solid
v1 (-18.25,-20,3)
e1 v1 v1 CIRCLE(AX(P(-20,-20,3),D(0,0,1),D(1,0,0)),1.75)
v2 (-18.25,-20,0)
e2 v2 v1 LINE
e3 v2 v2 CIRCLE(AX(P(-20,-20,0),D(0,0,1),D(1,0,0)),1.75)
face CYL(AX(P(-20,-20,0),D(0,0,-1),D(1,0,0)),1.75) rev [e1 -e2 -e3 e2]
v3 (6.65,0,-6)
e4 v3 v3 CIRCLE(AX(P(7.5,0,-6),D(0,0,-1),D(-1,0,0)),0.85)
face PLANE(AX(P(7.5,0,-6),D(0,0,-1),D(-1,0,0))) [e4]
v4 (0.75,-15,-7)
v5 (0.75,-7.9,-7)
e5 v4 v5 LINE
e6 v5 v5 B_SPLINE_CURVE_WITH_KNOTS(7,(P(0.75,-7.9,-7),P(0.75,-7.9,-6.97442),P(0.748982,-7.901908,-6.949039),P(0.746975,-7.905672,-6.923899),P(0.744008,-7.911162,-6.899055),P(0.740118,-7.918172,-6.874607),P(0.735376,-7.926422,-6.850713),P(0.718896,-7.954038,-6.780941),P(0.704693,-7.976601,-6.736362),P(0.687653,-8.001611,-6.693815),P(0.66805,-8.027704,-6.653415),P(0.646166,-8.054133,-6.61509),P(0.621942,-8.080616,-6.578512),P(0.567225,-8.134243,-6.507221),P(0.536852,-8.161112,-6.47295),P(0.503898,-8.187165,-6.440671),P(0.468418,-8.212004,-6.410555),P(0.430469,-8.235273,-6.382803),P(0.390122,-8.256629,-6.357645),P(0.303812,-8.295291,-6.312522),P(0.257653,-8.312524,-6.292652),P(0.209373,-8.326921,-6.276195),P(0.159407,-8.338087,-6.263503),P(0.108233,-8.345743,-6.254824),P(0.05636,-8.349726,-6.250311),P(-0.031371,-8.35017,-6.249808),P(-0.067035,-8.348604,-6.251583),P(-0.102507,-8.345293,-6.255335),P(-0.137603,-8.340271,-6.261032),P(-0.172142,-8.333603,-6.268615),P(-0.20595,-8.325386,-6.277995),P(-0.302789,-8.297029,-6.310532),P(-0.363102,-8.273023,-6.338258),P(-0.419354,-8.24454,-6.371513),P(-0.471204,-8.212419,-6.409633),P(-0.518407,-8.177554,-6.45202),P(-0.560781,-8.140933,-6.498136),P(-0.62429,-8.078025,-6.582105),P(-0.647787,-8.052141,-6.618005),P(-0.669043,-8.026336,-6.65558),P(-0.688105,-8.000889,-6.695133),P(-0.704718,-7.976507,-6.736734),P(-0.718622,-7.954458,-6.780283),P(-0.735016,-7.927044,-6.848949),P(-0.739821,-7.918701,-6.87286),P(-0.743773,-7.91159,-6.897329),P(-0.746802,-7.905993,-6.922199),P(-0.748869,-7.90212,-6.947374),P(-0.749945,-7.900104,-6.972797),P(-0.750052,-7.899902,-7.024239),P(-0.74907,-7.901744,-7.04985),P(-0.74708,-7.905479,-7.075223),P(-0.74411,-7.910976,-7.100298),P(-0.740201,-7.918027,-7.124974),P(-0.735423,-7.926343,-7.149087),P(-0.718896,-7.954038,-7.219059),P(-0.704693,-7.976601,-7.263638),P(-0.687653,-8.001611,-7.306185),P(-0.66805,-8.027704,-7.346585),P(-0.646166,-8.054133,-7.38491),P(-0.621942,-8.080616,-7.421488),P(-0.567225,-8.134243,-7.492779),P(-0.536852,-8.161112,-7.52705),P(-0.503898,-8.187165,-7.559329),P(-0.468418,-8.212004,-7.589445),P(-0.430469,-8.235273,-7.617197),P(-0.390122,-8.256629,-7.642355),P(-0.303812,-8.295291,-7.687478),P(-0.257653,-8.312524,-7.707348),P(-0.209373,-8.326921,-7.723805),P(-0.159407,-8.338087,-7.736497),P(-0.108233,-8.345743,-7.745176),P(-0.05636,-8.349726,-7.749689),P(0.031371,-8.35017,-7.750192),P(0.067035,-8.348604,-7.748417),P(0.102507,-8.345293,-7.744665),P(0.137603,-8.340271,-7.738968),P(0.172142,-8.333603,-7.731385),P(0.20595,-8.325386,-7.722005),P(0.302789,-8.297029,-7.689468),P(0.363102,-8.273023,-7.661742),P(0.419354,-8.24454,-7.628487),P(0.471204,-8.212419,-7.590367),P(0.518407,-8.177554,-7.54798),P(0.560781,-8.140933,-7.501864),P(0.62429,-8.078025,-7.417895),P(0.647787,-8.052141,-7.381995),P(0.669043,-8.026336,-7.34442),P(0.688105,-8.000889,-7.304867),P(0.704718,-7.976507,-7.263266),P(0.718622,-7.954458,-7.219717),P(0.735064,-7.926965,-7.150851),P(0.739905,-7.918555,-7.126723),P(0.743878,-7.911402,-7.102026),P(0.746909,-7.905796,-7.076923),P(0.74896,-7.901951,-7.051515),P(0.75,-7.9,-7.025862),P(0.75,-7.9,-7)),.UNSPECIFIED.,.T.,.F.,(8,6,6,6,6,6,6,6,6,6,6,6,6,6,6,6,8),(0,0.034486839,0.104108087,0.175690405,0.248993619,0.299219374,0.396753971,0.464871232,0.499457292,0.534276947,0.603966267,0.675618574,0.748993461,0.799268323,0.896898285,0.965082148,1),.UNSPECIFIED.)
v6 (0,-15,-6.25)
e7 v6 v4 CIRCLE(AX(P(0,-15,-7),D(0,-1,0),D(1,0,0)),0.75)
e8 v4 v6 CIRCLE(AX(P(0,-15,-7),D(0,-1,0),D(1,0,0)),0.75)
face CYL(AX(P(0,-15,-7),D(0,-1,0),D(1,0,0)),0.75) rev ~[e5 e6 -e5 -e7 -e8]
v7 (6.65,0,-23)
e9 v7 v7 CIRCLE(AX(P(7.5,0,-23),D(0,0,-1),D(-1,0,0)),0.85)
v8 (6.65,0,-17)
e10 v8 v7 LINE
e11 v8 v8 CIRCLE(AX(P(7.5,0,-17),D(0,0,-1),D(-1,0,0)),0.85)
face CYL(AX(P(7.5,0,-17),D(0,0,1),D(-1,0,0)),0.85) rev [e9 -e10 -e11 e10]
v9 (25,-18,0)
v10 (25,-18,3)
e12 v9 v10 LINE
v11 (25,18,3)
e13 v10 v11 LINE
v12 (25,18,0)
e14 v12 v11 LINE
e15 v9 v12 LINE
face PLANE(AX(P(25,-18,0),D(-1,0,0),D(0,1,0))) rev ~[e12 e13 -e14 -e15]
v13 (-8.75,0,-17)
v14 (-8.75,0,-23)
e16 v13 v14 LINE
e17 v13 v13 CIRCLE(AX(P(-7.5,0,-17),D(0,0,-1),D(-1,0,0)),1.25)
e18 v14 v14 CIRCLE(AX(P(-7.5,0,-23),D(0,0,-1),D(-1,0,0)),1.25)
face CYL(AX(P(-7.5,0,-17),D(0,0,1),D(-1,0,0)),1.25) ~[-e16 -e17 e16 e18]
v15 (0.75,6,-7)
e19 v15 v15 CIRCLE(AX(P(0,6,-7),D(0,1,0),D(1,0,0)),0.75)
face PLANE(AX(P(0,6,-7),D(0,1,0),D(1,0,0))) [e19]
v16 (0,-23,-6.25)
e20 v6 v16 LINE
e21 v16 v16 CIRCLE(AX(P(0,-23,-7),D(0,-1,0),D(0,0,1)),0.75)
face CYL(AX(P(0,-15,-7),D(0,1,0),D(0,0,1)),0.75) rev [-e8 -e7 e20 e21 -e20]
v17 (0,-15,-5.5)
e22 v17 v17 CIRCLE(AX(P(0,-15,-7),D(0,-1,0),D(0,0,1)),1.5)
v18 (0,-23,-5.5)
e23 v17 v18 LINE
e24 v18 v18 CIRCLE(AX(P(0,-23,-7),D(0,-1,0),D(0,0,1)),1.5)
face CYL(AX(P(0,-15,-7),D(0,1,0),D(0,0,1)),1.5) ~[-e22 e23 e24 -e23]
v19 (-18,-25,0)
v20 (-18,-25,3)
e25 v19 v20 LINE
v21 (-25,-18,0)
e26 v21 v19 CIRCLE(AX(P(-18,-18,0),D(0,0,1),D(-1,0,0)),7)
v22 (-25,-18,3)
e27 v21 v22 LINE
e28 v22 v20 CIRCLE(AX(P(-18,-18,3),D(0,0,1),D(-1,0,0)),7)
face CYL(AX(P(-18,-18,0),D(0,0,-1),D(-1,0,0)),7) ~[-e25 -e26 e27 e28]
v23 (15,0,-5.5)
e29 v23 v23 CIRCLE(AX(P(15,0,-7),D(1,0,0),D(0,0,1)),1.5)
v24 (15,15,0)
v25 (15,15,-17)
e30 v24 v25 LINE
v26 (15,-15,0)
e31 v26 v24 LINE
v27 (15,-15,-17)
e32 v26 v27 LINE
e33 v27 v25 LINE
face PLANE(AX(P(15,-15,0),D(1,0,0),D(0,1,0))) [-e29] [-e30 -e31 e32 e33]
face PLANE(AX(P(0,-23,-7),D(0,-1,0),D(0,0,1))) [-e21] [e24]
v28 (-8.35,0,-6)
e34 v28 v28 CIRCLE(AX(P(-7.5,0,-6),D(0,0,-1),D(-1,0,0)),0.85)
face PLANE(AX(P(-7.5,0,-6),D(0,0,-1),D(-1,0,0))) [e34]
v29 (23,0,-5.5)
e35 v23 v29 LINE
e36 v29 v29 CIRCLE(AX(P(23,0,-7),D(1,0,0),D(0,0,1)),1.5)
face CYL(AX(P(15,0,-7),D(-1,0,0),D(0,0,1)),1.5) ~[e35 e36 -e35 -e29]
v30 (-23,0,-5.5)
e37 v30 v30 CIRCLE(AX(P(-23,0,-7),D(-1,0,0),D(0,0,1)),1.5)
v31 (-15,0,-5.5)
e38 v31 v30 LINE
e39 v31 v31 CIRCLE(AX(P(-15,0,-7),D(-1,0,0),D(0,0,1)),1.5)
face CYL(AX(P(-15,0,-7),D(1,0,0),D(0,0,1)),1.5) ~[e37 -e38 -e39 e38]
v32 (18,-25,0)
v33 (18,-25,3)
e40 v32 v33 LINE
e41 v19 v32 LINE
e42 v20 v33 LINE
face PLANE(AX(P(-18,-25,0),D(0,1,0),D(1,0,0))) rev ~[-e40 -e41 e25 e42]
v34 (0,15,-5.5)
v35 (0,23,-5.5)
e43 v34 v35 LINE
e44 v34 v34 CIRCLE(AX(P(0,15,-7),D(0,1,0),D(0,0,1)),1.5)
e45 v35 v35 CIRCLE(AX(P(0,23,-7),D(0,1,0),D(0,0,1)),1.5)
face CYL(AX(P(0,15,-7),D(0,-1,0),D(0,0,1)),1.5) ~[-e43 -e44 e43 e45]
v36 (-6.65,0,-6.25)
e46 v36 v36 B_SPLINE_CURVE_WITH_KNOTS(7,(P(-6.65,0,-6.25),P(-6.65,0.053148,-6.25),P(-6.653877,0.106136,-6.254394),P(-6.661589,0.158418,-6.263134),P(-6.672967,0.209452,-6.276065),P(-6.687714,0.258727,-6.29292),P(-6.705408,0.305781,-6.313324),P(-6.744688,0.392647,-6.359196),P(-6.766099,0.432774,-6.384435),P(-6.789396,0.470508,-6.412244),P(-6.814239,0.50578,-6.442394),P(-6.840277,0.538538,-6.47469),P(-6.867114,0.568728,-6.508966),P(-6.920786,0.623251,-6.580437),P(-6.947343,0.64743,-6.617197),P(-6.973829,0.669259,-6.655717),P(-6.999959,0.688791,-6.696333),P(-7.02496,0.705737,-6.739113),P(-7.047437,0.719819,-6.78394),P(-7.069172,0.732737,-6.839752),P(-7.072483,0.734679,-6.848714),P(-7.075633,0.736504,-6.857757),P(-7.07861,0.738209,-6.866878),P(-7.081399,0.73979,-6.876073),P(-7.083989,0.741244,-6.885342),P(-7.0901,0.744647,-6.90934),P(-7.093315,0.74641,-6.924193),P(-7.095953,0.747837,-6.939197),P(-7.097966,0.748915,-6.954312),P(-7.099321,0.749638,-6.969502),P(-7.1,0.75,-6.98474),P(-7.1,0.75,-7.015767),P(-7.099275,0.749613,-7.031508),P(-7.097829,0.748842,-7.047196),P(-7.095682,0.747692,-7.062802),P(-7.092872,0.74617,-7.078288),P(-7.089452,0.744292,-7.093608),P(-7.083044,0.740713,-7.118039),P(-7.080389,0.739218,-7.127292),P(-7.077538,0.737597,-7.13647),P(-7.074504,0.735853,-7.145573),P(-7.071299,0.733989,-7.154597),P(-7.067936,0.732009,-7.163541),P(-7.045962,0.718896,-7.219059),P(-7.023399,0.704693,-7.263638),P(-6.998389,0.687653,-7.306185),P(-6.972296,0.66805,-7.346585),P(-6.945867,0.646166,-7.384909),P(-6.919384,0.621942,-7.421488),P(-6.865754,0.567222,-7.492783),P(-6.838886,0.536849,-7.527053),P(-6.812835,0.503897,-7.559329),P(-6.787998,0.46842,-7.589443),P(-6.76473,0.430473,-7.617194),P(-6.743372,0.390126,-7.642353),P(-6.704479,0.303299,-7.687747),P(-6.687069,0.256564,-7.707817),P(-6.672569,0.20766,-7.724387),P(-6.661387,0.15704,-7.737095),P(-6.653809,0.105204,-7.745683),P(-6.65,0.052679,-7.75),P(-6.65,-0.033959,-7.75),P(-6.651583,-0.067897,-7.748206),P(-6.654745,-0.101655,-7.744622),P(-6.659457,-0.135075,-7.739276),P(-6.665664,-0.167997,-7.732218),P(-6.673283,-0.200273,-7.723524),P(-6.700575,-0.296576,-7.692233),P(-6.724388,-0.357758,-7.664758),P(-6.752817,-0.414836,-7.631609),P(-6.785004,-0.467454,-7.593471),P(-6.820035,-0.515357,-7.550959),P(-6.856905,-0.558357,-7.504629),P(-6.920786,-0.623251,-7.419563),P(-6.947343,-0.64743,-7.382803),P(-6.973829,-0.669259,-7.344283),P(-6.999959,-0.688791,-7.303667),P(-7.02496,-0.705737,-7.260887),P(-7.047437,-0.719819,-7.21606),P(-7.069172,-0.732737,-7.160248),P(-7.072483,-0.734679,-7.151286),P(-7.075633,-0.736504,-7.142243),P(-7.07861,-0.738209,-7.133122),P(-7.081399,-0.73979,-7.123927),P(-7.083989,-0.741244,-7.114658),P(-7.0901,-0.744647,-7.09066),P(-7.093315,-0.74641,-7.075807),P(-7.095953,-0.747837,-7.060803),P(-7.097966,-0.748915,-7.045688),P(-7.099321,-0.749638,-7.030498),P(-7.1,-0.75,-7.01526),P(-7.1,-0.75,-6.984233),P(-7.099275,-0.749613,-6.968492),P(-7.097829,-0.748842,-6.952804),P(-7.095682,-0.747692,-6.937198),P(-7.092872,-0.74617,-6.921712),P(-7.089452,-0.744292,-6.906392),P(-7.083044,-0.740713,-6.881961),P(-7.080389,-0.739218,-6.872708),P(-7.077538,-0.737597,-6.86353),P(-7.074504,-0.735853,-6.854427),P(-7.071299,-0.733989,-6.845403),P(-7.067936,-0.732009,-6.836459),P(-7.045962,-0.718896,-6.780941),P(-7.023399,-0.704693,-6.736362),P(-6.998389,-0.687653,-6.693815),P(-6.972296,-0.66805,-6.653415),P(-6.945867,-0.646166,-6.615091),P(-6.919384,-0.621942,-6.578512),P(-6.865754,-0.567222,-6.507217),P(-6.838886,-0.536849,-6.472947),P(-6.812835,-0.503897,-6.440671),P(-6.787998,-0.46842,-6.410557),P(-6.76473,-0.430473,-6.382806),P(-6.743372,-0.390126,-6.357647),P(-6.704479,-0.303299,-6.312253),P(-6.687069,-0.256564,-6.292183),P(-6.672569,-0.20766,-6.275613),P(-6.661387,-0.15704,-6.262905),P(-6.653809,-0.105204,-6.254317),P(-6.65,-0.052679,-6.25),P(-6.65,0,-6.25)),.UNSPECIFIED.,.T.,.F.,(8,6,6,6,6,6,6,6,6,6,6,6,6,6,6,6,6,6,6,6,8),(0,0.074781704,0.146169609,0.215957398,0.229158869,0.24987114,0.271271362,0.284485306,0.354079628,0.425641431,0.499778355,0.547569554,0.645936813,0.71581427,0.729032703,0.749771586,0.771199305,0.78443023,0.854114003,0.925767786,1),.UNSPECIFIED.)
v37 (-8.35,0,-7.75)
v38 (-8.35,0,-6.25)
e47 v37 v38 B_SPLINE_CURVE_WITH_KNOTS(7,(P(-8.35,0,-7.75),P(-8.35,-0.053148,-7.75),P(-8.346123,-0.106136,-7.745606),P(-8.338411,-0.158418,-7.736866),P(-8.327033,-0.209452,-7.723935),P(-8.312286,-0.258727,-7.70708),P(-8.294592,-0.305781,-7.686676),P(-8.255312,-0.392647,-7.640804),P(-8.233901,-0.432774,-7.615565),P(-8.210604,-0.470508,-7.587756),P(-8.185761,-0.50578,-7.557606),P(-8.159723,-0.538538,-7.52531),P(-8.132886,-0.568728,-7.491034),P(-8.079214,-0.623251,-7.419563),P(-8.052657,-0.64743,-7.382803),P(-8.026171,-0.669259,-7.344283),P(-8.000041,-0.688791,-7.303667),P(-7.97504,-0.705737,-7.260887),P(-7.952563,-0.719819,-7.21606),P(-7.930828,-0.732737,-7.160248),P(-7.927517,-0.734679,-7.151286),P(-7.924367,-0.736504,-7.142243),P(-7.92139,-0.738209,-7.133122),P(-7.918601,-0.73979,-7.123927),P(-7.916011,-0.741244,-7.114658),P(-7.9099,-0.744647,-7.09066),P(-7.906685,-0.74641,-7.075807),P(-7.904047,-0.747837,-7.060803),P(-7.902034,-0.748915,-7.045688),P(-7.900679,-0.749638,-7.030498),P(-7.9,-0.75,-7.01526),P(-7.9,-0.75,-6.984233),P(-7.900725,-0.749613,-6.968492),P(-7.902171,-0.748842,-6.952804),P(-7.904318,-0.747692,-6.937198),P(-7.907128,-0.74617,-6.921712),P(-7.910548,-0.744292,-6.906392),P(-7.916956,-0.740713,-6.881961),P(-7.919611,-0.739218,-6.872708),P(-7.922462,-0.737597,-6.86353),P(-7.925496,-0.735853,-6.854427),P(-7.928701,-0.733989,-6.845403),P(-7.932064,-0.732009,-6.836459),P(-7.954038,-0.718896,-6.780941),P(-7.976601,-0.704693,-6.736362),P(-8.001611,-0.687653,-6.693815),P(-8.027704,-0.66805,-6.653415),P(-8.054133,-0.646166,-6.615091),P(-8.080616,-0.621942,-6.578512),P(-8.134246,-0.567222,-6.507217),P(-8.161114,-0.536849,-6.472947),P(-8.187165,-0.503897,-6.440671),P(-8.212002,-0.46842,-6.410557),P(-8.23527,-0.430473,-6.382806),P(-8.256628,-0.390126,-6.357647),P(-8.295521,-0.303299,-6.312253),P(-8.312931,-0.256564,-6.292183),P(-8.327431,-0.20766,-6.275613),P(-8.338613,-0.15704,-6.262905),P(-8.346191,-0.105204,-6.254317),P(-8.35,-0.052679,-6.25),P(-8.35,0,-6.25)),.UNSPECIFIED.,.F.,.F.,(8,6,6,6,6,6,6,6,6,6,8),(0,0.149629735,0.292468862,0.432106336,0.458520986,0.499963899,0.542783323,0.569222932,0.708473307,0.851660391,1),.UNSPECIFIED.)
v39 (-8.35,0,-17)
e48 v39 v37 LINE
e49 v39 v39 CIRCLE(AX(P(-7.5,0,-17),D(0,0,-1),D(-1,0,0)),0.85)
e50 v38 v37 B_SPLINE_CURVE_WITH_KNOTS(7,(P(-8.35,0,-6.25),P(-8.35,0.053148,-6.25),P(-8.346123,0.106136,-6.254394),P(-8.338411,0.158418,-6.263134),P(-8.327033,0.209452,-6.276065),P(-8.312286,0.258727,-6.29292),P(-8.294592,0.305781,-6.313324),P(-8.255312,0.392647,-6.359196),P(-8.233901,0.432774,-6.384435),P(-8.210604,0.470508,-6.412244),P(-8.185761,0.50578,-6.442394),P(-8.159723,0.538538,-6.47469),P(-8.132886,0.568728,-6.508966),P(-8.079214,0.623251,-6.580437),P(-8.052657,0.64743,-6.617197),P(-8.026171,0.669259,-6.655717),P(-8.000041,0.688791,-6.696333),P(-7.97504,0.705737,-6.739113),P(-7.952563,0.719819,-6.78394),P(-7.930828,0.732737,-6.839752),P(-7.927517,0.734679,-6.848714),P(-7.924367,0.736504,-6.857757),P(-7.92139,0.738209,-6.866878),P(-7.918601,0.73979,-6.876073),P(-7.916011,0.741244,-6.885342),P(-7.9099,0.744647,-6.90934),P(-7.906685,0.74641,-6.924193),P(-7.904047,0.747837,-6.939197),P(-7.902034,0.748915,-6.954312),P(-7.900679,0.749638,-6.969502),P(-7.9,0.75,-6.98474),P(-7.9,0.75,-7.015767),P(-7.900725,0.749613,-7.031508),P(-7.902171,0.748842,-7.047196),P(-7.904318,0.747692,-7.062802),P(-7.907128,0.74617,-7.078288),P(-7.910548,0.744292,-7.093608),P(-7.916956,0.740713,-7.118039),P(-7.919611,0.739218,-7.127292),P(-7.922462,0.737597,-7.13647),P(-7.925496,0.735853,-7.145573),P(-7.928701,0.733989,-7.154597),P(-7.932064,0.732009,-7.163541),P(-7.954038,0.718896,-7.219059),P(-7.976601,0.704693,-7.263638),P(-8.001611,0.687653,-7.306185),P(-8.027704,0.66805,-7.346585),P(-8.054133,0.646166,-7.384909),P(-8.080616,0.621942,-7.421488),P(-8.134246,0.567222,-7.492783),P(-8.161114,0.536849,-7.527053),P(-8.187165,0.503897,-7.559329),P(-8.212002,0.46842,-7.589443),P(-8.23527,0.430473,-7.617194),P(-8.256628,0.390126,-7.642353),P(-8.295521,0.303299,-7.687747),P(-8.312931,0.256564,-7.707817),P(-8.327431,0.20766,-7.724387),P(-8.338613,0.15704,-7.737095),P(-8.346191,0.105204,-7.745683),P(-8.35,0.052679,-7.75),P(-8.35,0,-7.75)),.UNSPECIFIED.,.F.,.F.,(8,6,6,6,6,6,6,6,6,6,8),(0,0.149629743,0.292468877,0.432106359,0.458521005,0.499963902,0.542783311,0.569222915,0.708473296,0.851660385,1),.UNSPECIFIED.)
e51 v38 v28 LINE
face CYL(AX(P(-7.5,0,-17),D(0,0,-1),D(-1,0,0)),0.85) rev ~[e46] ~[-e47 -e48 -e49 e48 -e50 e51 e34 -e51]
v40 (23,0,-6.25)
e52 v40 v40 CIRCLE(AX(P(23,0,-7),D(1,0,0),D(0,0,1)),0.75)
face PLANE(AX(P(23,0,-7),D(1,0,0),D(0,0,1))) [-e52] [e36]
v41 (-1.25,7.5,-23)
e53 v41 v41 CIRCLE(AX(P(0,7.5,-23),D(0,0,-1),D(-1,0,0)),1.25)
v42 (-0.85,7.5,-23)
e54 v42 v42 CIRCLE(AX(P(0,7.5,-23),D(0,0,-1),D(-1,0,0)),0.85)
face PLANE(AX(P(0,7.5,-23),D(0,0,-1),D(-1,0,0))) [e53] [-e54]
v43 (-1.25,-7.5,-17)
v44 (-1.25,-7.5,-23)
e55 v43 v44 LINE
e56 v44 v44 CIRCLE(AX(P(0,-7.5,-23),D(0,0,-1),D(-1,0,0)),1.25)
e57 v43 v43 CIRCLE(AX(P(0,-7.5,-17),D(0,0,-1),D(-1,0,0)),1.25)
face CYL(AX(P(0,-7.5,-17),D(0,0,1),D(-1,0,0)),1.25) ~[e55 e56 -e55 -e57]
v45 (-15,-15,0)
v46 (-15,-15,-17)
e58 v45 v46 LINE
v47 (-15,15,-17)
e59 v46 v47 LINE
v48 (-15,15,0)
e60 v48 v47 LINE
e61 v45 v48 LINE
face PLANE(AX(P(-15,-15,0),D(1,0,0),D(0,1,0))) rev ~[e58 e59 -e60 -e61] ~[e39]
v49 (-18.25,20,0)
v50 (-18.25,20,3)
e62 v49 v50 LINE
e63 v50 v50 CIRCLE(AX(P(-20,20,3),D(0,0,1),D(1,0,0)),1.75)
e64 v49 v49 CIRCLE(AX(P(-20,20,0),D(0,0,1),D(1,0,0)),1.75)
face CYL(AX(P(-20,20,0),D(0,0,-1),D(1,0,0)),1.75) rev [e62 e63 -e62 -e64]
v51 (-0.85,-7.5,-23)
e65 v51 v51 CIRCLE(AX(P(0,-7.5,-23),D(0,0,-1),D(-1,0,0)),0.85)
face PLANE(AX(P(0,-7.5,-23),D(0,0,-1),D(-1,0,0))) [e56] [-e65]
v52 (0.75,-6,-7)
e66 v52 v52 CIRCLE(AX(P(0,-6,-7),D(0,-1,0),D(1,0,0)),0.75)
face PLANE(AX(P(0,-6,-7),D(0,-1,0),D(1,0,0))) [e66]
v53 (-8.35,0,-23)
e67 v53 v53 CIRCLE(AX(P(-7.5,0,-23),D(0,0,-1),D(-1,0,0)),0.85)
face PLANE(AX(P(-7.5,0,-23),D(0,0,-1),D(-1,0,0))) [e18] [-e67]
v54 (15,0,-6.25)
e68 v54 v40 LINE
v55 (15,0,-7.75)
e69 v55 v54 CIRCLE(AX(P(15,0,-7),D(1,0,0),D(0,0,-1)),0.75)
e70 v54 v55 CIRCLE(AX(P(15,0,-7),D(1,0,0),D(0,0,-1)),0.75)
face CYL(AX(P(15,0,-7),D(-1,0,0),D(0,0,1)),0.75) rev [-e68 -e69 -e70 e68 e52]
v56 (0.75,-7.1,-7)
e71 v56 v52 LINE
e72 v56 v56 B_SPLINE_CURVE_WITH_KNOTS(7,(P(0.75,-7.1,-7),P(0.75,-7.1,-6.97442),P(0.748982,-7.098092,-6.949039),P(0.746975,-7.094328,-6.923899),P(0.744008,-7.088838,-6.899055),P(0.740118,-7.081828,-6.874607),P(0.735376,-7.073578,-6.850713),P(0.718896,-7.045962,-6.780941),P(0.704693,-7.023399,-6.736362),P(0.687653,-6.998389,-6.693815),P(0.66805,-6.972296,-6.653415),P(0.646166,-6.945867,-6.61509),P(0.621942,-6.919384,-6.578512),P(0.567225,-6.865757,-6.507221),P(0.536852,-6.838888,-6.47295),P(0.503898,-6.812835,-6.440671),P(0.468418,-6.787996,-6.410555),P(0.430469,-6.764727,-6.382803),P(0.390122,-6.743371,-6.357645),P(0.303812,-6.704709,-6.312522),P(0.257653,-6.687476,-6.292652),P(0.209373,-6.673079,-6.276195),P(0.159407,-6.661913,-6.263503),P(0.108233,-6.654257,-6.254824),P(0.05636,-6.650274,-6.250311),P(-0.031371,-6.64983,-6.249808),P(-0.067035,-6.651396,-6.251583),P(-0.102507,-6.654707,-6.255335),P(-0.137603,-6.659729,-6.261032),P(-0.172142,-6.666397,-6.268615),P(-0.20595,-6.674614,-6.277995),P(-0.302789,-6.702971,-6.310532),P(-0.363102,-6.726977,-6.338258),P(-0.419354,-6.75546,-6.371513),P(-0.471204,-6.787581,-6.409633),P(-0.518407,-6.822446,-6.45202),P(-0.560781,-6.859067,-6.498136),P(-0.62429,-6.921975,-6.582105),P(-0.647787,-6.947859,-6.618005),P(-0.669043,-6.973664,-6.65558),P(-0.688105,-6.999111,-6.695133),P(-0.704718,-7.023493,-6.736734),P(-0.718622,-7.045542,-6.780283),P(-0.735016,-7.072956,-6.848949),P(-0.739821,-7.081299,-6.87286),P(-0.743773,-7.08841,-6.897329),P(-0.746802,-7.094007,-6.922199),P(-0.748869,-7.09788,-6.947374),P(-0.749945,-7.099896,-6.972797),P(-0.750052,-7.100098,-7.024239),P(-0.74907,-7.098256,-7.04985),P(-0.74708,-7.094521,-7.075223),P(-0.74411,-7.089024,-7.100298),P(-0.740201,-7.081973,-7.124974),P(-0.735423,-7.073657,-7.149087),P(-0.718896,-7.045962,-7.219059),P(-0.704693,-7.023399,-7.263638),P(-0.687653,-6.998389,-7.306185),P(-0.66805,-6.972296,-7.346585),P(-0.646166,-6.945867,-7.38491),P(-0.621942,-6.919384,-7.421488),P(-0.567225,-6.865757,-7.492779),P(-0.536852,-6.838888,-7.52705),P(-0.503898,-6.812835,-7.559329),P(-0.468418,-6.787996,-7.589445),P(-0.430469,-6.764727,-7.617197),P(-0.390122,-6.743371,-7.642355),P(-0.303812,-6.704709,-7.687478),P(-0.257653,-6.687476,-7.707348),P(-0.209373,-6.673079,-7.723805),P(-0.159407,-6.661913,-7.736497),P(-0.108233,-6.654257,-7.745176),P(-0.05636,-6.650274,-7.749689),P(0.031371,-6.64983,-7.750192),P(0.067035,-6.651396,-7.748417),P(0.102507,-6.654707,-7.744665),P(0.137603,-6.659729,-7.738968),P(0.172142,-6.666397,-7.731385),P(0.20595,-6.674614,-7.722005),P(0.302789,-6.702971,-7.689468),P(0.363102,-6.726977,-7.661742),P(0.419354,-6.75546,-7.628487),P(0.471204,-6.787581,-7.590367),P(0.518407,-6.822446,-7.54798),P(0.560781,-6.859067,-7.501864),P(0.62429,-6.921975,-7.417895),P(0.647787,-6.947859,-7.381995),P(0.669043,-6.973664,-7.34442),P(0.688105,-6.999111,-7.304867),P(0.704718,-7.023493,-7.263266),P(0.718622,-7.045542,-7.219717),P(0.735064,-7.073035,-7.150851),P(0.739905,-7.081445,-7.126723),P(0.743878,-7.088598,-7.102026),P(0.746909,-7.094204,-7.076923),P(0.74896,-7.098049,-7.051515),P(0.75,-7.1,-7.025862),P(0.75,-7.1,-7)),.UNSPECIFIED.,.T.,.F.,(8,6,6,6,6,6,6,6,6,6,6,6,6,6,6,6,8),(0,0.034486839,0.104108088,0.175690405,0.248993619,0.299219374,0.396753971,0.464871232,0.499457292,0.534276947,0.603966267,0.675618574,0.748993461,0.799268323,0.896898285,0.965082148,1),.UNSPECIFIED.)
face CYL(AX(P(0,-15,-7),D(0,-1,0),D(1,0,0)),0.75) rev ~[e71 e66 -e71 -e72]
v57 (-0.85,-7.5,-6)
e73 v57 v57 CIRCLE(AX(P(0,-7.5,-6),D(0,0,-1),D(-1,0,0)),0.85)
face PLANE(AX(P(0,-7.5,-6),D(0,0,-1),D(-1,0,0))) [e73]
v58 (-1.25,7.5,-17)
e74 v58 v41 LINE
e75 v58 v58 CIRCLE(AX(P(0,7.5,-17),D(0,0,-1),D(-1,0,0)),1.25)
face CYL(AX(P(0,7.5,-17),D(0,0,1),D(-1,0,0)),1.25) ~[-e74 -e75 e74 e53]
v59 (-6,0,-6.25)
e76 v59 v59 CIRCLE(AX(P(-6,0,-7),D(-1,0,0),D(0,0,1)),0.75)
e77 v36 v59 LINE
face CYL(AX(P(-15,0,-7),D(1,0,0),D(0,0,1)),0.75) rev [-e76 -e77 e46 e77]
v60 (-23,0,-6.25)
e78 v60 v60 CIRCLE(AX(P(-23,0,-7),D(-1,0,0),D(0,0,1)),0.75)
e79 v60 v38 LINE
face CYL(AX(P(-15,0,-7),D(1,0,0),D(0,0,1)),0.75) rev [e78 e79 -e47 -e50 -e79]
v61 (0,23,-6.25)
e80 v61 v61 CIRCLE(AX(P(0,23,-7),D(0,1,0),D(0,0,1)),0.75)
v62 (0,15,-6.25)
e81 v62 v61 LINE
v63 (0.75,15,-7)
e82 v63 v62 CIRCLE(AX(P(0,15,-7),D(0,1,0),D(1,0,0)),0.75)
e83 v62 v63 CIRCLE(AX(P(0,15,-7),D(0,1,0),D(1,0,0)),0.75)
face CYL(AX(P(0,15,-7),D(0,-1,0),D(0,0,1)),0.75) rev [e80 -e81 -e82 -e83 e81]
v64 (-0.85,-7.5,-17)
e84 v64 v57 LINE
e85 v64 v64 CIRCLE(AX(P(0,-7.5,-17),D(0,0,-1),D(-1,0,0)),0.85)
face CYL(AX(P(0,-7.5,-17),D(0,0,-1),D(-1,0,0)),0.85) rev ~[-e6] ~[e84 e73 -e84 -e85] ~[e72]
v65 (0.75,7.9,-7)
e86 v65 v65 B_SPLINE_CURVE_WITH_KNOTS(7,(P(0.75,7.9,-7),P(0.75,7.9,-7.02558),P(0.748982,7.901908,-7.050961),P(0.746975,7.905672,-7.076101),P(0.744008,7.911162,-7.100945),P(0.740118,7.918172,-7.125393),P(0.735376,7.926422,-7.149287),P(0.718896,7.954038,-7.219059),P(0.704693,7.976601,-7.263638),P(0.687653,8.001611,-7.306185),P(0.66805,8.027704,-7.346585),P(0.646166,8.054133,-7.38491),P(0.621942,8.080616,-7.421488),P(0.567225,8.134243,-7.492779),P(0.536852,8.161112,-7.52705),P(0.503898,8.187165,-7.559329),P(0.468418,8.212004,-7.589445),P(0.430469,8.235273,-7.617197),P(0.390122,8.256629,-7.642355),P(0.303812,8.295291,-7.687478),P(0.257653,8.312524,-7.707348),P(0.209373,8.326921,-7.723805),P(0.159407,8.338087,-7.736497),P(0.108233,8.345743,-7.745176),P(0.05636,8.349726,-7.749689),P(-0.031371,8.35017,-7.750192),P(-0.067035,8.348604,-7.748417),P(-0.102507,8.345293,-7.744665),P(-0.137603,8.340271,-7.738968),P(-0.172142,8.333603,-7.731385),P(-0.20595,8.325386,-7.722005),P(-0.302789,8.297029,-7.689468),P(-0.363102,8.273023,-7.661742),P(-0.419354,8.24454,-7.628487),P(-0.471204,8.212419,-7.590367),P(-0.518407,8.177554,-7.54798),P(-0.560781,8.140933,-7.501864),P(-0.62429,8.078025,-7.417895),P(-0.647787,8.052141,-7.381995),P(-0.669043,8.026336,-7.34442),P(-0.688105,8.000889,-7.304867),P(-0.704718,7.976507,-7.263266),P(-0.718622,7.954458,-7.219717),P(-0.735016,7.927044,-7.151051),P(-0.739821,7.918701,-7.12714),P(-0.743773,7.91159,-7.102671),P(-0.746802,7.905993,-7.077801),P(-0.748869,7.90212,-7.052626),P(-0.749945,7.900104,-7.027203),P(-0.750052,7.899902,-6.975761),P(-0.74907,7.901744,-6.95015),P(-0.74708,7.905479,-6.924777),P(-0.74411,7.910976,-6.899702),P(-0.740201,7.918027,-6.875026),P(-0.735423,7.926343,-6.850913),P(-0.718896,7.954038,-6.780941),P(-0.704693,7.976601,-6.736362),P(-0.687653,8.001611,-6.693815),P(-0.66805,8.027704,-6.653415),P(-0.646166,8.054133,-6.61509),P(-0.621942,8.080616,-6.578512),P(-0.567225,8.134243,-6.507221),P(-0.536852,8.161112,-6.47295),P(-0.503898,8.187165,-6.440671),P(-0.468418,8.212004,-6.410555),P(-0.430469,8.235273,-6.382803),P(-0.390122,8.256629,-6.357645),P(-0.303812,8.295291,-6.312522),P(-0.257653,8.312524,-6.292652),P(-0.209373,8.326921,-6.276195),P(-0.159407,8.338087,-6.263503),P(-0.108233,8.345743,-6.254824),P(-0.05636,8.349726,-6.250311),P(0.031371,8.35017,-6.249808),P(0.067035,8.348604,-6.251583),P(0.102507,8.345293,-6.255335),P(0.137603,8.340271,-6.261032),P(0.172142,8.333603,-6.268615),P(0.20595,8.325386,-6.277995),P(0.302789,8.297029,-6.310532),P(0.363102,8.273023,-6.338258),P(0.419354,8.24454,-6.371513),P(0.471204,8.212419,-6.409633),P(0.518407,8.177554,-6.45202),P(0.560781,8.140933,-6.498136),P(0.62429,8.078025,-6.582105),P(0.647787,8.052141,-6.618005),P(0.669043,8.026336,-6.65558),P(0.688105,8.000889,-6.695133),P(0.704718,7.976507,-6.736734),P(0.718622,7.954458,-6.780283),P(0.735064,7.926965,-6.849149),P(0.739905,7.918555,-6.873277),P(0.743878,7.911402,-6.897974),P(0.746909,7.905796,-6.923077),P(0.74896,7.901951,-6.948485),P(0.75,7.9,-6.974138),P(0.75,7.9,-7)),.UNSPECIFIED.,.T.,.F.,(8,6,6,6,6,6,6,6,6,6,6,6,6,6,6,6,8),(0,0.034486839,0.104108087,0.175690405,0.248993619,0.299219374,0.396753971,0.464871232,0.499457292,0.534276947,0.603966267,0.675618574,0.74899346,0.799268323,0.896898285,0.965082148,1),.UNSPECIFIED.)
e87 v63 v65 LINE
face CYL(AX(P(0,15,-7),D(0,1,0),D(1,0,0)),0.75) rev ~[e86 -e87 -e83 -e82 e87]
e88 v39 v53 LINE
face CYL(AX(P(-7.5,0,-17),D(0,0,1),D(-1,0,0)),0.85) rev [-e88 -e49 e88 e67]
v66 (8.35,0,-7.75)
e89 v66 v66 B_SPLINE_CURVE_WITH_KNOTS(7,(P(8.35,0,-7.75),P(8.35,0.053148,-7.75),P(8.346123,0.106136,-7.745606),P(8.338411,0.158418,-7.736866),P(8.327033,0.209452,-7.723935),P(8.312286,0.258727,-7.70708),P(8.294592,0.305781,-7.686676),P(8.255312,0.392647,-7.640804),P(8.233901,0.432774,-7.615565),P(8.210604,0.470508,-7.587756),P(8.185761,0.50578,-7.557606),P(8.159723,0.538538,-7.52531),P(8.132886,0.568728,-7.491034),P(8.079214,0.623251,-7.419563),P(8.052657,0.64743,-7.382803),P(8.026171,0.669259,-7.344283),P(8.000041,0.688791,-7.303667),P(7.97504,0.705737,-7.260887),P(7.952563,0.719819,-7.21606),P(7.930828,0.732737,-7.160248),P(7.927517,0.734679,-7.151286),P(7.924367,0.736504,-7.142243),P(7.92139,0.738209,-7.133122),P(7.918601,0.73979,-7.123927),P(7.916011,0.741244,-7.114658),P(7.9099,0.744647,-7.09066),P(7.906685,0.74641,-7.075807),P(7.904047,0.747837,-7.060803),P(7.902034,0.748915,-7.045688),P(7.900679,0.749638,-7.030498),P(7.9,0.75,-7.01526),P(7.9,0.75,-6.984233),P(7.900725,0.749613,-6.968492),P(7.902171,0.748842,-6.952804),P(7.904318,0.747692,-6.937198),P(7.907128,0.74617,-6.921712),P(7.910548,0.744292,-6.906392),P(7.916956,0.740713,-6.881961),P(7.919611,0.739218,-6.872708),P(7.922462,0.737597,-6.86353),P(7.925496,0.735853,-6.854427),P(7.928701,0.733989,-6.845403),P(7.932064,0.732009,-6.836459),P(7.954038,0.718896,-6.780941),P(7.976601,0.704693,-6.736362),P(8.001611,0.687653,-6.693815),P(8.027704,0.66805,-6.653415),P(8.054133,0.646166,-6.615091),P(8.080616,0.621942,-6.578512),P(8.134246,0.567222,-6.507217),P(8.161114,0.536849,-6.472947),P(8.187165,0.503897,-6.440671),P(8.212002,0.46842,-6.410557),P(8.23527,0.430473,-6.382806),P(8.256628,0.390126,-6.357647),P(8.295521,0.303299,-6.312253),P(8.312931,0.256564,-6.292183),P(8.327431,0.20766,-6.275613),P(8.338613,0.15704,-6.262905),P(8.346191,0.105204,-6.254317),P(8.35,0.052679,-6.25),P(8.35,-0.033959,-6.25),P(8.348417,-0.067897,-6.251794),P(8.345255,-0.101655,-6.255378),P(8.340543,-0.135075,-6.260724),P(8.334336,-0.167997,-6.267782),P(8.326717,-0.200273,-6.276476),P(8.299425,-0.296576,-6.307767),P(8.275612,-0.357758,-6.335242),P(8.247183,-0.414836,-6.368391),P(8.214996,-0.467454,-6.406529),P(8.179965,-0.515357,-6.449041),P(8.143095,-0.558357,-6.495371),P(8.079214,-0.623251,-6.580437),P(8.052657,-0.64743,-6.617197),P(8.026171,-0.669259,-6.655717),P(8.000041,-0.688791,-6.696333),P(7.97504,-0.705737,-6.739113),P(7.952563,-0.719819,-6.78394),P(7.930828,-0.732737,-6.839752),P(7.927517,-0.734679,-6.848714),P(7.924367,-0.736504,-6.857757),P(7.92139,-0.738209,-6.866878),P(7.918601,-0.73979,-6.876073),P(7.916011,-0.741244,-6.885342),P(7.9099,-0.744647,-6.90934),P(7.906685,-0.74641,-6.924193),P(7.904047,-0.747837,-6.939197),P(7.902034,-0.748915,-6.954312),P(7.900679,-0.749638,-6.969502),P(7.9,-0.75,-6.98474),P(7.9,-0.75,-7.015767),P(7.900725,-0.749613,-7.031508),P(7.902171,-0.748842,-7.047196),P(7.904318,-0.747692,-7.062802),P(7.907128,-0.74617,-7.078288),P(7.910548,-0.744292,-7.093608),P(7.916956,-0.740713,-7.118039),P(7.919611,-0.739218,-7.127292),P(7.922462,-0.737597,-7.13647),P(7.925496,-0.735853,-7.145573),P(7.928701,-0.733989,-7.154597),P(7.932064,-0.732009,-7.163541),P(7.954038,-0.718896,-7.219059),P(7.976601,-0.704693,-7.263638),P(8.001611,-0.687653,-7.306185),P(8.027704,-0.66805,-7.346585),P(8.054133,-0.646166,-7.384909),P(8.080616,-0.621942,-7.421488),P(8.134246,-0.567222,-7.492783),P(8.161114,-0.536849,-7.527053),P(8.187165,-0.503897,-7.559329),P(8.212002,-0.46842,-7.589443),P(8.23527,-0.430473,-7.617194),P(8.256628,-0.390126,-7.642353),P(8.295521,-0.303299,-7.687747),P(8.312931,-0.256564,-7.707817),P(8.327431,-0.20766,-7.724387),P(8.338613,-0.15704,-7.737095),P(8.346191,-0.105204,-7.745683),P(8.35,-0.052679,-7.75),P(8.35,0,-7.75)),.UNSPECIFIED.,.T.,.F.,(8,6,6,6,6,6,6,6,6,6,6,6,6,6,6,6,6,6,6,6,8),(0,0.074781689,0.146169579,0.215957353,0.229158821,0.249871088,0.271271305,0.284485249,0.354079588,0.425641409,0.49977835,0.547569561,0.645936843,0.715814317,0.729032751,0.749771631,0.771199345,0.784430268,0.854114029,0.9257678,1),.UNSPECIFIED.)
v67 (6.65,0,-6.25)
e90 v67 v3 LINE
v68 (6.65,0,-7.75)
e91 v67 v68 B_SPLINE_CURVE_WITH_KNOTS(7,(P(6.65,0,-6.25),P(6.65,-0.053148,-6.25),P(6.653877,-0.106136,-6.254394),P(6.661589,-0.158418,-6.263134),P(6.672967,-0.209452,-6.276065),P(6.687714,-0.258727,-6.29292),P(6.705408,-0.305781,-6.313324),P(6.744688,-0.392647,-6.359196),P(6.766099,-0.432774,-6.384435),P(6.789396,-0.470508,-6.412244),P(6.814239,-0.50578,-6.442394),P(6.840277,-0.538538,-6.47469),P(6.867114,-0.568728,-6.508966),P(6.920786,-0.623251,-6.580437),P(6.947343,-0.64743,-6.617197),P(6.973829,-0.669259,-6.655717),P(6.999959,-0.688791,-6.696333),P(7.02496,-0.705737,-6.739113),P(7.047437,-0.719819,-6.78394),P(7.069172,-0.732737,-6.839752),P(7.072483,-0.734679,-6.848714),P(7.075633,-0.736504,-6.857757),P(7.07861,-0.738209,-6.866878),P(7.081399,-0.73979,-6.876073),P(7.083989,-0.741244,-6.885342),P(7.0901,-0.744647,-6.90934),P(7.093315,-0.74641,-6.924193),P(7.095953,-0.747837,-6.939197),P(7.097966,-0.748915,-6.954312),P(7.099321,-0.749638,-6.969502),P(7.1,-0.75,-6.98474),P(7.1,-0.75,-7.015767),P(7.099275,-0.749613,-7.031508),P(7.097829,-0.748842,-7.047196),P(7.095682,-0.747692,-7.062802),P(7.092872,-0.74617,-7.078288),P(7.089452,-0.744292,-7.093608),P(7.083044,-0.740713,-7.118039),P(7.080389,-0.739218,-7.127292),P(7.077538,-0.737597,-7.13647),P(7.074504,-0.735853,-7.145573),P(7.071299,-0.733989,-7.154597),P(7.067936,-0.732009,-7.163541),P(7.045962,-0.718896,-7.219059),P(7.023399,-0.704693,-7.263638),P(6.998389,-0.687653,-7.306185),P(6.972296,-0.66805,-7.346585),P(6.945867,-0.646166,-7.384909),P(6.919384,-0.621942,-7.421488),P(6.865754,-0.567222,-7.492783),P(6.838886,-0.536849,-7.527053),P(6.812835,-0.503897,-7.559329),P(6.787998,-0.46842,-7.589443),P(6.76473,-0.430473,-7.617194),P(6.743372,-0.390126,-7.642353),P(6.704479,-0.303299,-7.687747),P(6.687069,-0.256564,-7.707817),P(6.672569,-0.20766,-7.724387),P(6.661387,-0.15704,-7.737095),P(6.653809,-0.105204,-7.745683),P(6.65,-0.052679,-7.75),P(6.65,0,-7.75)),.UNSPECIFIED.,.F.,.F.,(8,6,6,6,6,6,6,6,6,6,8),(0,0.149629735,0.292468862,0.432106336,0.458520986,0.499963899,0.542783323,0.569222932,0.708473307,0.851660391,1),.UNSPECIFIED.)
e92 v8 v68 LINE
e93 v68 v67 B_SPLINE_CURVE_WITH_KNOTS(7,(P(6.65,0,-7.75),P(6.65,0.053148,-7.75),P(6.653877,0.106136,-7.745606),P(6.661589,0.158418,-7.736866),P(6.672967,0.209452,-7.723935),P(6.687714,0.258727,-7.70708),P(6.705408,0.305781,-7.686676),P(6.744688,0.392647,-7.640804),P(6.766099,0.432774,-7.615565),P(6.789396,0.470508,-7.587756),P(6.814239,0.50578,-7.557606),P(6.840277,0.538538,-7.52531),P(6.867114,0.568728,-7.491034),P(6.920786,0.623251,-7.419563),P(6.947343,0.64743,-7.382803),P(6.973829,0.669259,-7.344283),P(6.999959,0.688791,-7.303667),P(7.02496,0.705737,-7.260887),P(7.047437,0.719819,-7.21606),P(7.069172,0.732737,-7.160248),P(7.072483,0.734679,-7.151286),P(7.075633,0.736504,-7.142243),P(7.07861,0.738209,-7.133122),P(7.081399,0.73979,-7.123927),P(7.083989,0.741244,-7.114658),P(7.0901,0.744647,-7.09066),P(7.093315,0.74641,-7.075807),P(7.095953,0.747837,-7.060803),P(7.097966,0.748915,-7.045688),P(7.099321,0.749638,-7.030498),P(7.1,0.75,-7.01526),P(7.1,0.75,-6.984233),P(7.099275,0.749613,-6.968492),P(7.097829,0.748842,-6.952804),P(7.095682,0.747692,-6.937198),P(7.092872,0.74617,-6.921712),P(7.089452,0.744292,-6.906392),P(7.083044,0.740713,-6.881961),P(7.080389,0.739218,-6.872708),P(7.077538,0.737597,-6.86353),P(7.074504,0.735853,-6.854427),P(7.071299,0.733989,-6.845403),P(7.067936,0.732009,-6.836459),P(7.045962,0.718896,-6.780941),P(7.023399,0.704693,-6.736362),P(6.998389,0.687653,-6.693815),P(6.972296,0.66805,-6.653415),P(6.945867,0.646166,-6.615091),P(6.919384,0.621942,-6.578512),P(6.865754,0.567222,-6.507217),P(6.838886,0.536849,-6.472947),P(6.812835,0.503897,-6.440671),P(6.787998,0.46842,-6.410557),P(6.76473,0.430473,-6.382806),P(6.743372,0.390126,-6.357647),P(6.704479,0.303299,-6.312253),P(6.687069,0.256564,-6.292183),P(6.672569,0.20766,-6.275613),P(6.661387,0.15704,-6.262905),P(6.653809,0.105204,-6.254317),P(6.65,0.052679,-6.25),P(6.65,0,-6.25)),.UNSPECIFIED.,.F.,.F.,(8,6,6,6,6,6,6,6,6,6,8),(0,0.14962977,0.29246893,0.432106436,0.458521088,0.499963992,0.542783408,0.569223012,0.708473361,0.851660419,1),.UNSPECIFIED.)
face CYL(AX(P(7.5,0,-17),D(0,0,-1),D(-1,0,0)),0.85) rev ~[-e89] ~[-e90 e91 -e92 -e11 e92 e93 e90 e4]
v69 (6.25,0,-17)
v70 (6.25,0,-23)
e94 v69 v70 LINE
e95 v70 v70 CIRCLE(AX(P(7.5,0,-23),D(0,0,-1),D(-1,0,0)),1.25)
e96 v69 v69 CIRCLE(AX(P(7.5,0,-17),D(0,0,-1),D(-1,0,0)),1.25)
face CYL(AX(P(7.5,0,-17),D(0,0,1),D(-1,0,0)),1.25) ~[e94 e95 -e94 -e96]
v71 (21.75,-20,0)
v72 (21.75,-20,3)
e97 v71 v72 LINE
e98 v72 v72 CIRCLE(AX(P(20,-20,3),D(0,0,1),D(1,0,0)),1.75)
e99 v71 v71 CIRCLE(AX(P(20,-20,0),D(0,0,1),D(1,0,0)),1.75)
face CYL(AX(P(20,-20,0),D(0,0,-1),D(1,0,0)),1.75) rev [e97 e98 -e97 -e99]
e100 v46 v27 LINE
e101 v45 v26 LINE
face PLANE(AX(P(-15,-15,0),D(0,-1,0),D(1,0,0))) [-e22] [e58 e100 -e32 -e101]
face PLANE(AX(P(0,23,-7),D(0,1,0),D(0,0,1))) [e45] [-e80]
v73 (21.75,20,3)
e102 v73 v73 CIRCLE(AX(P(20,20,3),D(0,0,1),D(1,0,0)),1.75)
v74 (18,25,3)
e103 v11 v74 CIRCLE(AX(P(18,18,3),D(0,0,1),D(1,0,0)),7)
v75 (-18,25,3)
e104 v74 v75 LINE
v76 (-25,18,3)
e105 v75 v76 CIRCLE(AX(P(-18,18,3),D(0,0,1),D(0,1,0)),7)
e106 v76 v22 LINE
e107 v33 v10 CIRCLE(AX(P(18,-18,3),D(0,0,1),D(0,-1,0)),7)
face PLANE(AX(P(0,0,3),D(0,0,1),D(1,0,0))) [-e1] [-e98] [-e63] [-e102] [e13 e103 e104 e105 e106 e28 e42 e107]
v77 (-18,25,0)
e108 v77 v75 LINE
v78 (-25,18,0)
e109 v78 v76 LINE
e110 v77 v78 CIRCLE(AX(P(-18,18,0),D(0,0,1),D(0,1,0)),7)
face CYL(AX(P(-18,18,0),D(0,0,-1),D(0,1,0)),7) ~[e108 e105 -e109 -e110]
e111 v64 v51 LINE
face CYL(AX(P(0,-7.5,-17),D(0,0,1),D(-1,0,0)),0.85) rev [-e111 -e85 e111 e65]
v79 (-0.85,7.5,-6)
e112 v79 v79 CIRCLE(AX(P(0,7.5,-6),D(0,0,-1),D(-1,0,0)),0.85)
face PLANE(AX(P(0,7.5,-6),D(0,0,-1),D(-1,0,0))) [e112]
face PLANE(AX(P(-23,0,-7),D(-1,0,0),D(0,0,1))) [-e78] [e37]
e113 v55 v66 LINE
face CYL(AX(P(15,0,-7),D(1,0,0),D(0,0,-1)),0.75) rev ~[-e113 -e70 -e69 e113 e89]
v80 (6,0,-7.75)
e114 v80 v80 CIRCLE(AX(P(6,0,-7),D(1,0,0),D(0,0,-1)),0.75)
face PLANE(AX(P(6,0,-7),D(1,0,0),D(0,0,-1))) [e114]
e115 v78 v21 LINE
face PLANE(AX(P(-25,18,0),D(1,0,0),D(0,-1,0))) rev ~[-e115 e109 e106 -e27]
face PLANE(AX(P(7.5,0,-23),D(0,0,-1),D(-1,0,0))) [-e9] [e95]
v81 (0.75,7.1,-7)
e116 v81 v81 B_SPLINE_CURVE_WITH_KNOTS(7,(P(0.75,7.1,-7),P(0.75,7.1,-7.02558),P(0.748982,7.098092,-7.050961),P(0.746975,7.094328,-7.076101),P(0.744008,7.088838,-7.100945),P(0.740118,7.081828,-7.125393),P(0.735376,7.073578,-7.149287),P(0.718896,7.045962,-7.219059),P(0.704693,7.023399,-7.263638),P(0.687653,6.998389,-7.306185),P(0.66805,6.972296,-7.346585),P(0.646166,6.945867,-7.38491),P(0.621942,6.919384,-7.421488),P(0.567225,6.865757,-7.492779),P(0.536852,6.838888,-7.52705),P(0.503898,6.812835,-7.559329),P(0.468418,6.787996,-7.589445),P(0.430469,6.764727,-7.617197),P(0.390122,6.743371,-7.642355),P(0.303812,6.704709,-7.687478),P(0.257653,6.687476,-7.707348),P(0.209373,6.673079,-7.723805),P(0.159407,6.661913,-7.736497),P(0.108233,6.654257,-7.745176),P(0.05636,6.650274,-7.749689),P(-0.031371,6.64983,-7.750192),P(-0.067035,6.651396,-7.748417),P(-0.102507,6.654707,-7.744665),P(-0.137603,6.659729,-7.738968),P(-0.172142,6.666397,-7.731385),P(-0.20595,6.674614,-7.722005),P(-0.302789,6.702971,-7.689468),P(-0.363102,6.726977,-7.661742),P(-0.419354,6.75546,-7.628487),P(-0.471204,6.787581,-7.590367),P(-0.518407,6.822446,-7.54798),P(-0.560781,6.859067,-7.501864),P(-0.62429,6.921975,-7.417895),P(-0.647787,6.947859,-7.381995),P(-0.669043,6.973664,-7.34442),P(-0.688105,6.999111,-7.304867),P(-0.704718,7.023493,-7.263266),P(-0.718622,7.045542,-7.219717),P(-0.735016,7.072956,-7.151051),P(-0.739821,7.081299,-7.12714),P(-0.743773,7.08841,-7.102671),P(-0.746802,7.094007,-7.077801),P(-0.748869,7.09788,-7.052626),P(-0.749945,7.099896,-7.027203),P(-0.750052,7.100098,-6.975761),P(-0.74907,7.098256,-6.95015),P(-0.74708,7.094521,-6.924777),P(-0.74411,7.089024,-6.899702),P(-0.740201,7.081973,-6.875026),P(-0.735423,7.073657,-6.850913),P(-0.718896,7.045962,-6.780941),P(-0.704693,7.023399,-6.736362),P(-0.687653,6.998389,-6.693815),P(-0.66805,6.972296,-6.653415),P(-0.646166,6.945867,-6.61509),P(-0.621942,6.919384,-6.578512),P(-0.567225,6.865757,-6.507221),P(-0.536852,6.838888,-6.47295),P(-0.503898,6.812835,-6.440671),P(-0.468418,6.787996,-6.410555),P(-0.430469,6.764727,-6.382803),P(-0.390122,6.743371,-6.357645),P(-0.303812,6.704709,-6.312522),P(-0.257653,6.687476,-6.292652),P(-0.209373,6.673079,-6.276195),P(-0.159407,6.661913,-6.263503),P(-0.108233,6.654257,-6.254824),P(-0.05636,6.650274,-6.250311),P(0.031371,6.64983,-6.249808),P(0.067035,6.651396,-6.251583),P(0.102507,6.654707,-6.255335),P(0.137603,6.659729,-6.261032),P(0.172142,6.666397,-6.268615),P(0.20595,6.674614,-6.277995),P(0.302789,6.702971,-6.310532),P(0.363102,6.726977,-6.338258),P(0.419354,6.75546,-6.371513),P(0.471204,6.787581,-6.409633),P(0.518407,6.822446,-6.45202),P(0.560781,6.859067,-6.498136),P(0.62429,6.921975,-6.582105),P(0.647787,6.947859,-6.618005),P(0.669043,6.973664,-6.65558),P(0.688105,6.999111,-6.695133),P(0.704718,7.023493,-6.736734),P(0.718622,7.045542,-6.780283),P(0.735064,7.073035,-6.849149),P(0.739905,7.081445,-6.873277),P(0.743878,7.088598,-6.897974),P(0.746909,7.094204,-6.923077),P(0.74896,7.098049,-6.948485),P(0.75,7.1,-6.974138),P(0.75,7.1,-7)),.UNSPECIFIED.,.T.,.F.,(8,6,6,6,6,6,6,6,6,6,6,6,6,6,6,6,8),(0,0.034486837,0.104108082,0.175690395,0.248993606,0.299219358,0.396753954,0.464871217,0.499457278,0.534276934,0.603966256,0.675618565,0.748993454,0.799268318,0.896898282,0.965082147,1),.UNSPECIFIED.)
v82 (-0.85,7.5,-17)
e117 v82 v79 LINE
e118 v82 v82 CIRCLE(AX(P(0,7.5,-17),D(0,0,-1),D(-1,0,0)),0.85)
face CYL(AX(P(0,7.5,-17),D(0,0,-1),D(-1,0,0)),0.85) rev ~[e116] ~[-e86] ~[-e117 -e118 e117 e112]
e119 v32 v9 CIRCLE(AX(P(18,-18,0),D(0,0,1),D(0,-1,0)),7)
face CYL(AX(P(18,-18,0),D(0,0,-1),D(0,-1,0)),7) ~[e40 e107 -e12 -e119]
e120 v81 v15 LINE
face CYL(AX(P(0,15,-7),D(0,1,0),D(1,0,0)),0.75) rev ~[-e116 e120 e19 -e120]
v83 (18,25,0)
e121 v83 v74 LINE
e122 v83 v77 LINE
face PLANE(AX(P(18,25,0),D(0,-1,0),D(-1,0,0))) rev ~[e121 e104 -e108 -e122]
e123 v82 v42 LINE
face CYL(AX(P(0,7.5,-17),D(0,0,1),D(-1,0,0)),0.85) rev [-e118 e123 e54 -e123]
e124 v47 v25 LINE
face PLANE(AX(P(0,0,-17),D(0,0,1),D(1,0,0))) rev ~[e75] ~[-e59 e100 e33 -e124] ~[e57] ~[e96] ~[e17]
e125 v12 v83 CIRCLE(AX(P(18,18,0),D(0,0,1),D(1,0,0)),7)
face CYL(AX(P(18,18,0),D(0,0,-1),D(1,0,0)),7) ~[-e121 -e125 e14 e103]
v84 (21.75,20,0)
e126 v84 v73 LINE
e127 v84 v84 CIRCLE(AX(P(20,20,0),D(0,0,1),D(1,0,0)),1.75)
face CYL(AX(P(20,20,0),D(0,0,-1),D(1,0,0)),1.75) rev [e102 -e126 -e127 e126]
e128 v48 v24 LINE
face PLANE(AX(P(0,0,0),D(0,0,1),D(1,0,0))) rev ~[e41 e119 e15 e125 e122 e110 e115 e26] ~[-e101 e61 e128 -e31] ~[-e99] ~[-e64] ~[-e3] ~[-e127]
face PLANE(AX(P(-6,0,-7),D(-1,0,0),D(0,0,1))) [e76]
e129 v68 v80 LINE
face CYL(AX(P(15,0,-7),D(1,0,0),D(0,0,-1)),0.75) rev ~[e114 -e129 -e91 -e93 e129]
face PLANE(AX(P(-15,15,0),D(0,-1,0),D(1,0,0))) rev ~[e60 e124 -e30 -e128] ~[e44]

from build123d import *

# Parameters (mm, degrees)
SKETCH_1_R               = 1.75
EXTRUDE_3_DEPTH          = 3
SKETCH_2_W               = 30
SKETCH_2_H               = 30
EXTRUDE_4_DEPTH          = 17
SKETCH_4_R               = 0.75
CUT_EXTRUDE_4_DEPTH      = 9
SKETCH_5_R               = 0.75
CUT_EXTRUDE_5_DEPTH      = 9
SKETCH_17_R              = 0.75
CUT_EXTRUDE_6_DEPTH      = 9
SKETCH_19_R              = 0.75
CUT_EXTRUDE_7_DEPTH      = 9
SKETCH_6_R               = 1.5
SKETCH_6_R_2             = 0.75
EXTRUDE_7_DEPTH          = 8
PATTERN_CIRCULAR_1_COUNT = 4
SKETCH_3_R               = 0.85
CUT_EXTRUDE_8_DEPTH      = 11
SKETCH_21_R              = 1.25
SKETCH_21_R_2            = 0.85
EXTRUDE_8_DEPTH          = 6


with BuildPart() as part:
    # 草图1 → 凸台-拉伸3 (new body)
    with BuildSketch(Plane.XY):
        with BuildLine():
            Line((-18, -25), (18, -25))
            ThreePointArc((18, -25), (22.949747468, -22.949747468), (25, -18))
            Line((25, -18), (25, 18))
            ThreePointArc((25, 18), (22.949747468, 22.949747468), (18, 25))
            Line((18, 25), (-18, 25))
            ThreePointArc((-18, 25), (-22.949747468, 22.949747468), (-25, 18))
            Line((-25, 18), (-25, -18))
            ThreePointArc((-25, -18), (-22.949747468, -22.949747468), (-18, -25))
        make_face()
        with Locations((20, 20)):
            Circle(SKETCH_1_R, mode=Mode.SUBTRACT)
        with Locations((-20, 20)):
            Circle(SKETCH_1_R, mode=Mode.SUBTRACT)
        with Locations((-20, -20)):
            Circle(SKETCH_1_R, mode=Mode.SUBTRACT)
        with Locations((20, -20)):
            Circle(SKETCH_1_R, mode=Mode.SUBTRACT)
    extrude(amount=EXTRUDE_3_DEPTH)

    # 草图2 → 凸台-拉伸4 (add)
    with BuildSketch(Plane.XY):
        Rectangle(SKETCH_2_W, SKETCH_2_H)
    extrude(amount=-EXTRUDE_4_DEPTH)

    # 草图4 → 切除-拉伸4 (cut)
    with BuildSketch(Plane.ZY.offset(15)):
        with Locations((-7, 0)):
            Circle(SKETCH_4_R)
    extrude(amount=-CUT_EXTRUDE_4_DEPTH, mode=Mode.SUBTRACT)

    # 草图5 → 切除-拉伸5 (cut)
    with BuildSketch(Plane(origin=(0, 15, 0), x_dir=(1, 0, 0), z_dir=(0, 1, 0))):
        with Locations((0, 7)):
            Circle(SKETCH_5_R)
    extrude(amount=-CUT_EXTRUDE_5_DEPTH, mode=Mode.SUBTRACT)

    # 草图17 → 切除-拉伸6 (cut)
    with BuildSketch(Plane(origin=(15, 0, 0), x_dir=(0, 0, -1), z_dir=(1, 0, 0))):
        with Locations((7, 0)):
            Circle(SKETCH_17_R)
    extrude(amount=-CUT_EXTRUDE_6_DEPTH, mode=Mode.SUBTRACT)

    # 草图19 → 切除-拉伸7 (cut)
    with BuildSketch(Plane.XZ.offset(15)):
        with Locations((0, -7)):
            Circle(SKETCH_19_R)
    extrude(amount=-CUT_EXTRUDE_7_DEPTH, mode=Mode.SUBTRACT)

    # 草图6 → 凸台-拉伸7 (add)
    with BuildSketch(Plane.ZY.offset(15)):
        with Locations((-7, 0)):
            Circle(SKETCH_6_R)
        with Locations((-7, 0)):
            Circle(SKETCH_6_R_2, mode=Mode.SUBTRACT)
    extrude_7 = extrude(amount=EXTRUDE_7_DEPTH)

    # 阵列(圆周)1: 凸台-拉伸7 ×4 about axis
    pattern_circular_1_axis = Axis((0, 0, 0), (0, 0, 1))
    for i in range(1, PATTERN_CIRCULAR_1_COUNT):
        add(extrude_7.rotate(pattern_circular_1_axis, i * 360 / PATTERN_CIRCULAR_1_COUNT))

    # 草图3 → 切除-拉伸8 (cut)
    with BuildSketch(Plane(origin=(0, 0, -17), x_dir=(-1, 0, 0), z_dir=(0, 0, -1))):
        with Locations((0, -7.5)):
            Circle(SKETCH_3_R)
        with Locations((-7.5, 0)):
            Circle(SKETCH_3_R)
        with Locations((0, 7.5)):
            Circle(SKETCH_3_R)
        with Locations((7.5, 0)):
            Circle(SKETCH_3_R)
    extrude(amount=-CUT_EXTRUDE_8_DEPTH, mode=Mode.SUBTRACT)

    # 草图21 → 凸台-拉伸8 (add)
    with BuildSketch(Plane(origin=(0, 0, -17), x_dir=(-1, 0, 0), z_dir=(0, 0, -1))):
        with Locations((-7.5, 0)):
            Circle(SKETCH_21_R)
        with Locations((-7.5, 0)):
            Circle(SKETCH_21_R_2, mode=Mode.SUBTRACT)
        with Locations((0, -7.5)):
            Circle(SKETCH_21_R)
        with Locations((0, -7.5)):
            Circle(SKETCH_21_R_2, mode=Mode.SUBTRACT)
        with Locations((7.5, 0)):
            Circle(SKETCH_21_R)
        with Locations((7.5, 0)):
            Circle(SKETCH_21_R_2, mode=Mode.SUBTRACT)
        with Locations((0, 7.5)):
            Circle(SKETCH_21_R)
        with Locations((0, 7.5)):
            Circle(SKETCH_21_R_2, mode=Mode.SUBTRACT)
    extrude(amount=EXTRUDE_8_DEPTH)


solid = part.part
